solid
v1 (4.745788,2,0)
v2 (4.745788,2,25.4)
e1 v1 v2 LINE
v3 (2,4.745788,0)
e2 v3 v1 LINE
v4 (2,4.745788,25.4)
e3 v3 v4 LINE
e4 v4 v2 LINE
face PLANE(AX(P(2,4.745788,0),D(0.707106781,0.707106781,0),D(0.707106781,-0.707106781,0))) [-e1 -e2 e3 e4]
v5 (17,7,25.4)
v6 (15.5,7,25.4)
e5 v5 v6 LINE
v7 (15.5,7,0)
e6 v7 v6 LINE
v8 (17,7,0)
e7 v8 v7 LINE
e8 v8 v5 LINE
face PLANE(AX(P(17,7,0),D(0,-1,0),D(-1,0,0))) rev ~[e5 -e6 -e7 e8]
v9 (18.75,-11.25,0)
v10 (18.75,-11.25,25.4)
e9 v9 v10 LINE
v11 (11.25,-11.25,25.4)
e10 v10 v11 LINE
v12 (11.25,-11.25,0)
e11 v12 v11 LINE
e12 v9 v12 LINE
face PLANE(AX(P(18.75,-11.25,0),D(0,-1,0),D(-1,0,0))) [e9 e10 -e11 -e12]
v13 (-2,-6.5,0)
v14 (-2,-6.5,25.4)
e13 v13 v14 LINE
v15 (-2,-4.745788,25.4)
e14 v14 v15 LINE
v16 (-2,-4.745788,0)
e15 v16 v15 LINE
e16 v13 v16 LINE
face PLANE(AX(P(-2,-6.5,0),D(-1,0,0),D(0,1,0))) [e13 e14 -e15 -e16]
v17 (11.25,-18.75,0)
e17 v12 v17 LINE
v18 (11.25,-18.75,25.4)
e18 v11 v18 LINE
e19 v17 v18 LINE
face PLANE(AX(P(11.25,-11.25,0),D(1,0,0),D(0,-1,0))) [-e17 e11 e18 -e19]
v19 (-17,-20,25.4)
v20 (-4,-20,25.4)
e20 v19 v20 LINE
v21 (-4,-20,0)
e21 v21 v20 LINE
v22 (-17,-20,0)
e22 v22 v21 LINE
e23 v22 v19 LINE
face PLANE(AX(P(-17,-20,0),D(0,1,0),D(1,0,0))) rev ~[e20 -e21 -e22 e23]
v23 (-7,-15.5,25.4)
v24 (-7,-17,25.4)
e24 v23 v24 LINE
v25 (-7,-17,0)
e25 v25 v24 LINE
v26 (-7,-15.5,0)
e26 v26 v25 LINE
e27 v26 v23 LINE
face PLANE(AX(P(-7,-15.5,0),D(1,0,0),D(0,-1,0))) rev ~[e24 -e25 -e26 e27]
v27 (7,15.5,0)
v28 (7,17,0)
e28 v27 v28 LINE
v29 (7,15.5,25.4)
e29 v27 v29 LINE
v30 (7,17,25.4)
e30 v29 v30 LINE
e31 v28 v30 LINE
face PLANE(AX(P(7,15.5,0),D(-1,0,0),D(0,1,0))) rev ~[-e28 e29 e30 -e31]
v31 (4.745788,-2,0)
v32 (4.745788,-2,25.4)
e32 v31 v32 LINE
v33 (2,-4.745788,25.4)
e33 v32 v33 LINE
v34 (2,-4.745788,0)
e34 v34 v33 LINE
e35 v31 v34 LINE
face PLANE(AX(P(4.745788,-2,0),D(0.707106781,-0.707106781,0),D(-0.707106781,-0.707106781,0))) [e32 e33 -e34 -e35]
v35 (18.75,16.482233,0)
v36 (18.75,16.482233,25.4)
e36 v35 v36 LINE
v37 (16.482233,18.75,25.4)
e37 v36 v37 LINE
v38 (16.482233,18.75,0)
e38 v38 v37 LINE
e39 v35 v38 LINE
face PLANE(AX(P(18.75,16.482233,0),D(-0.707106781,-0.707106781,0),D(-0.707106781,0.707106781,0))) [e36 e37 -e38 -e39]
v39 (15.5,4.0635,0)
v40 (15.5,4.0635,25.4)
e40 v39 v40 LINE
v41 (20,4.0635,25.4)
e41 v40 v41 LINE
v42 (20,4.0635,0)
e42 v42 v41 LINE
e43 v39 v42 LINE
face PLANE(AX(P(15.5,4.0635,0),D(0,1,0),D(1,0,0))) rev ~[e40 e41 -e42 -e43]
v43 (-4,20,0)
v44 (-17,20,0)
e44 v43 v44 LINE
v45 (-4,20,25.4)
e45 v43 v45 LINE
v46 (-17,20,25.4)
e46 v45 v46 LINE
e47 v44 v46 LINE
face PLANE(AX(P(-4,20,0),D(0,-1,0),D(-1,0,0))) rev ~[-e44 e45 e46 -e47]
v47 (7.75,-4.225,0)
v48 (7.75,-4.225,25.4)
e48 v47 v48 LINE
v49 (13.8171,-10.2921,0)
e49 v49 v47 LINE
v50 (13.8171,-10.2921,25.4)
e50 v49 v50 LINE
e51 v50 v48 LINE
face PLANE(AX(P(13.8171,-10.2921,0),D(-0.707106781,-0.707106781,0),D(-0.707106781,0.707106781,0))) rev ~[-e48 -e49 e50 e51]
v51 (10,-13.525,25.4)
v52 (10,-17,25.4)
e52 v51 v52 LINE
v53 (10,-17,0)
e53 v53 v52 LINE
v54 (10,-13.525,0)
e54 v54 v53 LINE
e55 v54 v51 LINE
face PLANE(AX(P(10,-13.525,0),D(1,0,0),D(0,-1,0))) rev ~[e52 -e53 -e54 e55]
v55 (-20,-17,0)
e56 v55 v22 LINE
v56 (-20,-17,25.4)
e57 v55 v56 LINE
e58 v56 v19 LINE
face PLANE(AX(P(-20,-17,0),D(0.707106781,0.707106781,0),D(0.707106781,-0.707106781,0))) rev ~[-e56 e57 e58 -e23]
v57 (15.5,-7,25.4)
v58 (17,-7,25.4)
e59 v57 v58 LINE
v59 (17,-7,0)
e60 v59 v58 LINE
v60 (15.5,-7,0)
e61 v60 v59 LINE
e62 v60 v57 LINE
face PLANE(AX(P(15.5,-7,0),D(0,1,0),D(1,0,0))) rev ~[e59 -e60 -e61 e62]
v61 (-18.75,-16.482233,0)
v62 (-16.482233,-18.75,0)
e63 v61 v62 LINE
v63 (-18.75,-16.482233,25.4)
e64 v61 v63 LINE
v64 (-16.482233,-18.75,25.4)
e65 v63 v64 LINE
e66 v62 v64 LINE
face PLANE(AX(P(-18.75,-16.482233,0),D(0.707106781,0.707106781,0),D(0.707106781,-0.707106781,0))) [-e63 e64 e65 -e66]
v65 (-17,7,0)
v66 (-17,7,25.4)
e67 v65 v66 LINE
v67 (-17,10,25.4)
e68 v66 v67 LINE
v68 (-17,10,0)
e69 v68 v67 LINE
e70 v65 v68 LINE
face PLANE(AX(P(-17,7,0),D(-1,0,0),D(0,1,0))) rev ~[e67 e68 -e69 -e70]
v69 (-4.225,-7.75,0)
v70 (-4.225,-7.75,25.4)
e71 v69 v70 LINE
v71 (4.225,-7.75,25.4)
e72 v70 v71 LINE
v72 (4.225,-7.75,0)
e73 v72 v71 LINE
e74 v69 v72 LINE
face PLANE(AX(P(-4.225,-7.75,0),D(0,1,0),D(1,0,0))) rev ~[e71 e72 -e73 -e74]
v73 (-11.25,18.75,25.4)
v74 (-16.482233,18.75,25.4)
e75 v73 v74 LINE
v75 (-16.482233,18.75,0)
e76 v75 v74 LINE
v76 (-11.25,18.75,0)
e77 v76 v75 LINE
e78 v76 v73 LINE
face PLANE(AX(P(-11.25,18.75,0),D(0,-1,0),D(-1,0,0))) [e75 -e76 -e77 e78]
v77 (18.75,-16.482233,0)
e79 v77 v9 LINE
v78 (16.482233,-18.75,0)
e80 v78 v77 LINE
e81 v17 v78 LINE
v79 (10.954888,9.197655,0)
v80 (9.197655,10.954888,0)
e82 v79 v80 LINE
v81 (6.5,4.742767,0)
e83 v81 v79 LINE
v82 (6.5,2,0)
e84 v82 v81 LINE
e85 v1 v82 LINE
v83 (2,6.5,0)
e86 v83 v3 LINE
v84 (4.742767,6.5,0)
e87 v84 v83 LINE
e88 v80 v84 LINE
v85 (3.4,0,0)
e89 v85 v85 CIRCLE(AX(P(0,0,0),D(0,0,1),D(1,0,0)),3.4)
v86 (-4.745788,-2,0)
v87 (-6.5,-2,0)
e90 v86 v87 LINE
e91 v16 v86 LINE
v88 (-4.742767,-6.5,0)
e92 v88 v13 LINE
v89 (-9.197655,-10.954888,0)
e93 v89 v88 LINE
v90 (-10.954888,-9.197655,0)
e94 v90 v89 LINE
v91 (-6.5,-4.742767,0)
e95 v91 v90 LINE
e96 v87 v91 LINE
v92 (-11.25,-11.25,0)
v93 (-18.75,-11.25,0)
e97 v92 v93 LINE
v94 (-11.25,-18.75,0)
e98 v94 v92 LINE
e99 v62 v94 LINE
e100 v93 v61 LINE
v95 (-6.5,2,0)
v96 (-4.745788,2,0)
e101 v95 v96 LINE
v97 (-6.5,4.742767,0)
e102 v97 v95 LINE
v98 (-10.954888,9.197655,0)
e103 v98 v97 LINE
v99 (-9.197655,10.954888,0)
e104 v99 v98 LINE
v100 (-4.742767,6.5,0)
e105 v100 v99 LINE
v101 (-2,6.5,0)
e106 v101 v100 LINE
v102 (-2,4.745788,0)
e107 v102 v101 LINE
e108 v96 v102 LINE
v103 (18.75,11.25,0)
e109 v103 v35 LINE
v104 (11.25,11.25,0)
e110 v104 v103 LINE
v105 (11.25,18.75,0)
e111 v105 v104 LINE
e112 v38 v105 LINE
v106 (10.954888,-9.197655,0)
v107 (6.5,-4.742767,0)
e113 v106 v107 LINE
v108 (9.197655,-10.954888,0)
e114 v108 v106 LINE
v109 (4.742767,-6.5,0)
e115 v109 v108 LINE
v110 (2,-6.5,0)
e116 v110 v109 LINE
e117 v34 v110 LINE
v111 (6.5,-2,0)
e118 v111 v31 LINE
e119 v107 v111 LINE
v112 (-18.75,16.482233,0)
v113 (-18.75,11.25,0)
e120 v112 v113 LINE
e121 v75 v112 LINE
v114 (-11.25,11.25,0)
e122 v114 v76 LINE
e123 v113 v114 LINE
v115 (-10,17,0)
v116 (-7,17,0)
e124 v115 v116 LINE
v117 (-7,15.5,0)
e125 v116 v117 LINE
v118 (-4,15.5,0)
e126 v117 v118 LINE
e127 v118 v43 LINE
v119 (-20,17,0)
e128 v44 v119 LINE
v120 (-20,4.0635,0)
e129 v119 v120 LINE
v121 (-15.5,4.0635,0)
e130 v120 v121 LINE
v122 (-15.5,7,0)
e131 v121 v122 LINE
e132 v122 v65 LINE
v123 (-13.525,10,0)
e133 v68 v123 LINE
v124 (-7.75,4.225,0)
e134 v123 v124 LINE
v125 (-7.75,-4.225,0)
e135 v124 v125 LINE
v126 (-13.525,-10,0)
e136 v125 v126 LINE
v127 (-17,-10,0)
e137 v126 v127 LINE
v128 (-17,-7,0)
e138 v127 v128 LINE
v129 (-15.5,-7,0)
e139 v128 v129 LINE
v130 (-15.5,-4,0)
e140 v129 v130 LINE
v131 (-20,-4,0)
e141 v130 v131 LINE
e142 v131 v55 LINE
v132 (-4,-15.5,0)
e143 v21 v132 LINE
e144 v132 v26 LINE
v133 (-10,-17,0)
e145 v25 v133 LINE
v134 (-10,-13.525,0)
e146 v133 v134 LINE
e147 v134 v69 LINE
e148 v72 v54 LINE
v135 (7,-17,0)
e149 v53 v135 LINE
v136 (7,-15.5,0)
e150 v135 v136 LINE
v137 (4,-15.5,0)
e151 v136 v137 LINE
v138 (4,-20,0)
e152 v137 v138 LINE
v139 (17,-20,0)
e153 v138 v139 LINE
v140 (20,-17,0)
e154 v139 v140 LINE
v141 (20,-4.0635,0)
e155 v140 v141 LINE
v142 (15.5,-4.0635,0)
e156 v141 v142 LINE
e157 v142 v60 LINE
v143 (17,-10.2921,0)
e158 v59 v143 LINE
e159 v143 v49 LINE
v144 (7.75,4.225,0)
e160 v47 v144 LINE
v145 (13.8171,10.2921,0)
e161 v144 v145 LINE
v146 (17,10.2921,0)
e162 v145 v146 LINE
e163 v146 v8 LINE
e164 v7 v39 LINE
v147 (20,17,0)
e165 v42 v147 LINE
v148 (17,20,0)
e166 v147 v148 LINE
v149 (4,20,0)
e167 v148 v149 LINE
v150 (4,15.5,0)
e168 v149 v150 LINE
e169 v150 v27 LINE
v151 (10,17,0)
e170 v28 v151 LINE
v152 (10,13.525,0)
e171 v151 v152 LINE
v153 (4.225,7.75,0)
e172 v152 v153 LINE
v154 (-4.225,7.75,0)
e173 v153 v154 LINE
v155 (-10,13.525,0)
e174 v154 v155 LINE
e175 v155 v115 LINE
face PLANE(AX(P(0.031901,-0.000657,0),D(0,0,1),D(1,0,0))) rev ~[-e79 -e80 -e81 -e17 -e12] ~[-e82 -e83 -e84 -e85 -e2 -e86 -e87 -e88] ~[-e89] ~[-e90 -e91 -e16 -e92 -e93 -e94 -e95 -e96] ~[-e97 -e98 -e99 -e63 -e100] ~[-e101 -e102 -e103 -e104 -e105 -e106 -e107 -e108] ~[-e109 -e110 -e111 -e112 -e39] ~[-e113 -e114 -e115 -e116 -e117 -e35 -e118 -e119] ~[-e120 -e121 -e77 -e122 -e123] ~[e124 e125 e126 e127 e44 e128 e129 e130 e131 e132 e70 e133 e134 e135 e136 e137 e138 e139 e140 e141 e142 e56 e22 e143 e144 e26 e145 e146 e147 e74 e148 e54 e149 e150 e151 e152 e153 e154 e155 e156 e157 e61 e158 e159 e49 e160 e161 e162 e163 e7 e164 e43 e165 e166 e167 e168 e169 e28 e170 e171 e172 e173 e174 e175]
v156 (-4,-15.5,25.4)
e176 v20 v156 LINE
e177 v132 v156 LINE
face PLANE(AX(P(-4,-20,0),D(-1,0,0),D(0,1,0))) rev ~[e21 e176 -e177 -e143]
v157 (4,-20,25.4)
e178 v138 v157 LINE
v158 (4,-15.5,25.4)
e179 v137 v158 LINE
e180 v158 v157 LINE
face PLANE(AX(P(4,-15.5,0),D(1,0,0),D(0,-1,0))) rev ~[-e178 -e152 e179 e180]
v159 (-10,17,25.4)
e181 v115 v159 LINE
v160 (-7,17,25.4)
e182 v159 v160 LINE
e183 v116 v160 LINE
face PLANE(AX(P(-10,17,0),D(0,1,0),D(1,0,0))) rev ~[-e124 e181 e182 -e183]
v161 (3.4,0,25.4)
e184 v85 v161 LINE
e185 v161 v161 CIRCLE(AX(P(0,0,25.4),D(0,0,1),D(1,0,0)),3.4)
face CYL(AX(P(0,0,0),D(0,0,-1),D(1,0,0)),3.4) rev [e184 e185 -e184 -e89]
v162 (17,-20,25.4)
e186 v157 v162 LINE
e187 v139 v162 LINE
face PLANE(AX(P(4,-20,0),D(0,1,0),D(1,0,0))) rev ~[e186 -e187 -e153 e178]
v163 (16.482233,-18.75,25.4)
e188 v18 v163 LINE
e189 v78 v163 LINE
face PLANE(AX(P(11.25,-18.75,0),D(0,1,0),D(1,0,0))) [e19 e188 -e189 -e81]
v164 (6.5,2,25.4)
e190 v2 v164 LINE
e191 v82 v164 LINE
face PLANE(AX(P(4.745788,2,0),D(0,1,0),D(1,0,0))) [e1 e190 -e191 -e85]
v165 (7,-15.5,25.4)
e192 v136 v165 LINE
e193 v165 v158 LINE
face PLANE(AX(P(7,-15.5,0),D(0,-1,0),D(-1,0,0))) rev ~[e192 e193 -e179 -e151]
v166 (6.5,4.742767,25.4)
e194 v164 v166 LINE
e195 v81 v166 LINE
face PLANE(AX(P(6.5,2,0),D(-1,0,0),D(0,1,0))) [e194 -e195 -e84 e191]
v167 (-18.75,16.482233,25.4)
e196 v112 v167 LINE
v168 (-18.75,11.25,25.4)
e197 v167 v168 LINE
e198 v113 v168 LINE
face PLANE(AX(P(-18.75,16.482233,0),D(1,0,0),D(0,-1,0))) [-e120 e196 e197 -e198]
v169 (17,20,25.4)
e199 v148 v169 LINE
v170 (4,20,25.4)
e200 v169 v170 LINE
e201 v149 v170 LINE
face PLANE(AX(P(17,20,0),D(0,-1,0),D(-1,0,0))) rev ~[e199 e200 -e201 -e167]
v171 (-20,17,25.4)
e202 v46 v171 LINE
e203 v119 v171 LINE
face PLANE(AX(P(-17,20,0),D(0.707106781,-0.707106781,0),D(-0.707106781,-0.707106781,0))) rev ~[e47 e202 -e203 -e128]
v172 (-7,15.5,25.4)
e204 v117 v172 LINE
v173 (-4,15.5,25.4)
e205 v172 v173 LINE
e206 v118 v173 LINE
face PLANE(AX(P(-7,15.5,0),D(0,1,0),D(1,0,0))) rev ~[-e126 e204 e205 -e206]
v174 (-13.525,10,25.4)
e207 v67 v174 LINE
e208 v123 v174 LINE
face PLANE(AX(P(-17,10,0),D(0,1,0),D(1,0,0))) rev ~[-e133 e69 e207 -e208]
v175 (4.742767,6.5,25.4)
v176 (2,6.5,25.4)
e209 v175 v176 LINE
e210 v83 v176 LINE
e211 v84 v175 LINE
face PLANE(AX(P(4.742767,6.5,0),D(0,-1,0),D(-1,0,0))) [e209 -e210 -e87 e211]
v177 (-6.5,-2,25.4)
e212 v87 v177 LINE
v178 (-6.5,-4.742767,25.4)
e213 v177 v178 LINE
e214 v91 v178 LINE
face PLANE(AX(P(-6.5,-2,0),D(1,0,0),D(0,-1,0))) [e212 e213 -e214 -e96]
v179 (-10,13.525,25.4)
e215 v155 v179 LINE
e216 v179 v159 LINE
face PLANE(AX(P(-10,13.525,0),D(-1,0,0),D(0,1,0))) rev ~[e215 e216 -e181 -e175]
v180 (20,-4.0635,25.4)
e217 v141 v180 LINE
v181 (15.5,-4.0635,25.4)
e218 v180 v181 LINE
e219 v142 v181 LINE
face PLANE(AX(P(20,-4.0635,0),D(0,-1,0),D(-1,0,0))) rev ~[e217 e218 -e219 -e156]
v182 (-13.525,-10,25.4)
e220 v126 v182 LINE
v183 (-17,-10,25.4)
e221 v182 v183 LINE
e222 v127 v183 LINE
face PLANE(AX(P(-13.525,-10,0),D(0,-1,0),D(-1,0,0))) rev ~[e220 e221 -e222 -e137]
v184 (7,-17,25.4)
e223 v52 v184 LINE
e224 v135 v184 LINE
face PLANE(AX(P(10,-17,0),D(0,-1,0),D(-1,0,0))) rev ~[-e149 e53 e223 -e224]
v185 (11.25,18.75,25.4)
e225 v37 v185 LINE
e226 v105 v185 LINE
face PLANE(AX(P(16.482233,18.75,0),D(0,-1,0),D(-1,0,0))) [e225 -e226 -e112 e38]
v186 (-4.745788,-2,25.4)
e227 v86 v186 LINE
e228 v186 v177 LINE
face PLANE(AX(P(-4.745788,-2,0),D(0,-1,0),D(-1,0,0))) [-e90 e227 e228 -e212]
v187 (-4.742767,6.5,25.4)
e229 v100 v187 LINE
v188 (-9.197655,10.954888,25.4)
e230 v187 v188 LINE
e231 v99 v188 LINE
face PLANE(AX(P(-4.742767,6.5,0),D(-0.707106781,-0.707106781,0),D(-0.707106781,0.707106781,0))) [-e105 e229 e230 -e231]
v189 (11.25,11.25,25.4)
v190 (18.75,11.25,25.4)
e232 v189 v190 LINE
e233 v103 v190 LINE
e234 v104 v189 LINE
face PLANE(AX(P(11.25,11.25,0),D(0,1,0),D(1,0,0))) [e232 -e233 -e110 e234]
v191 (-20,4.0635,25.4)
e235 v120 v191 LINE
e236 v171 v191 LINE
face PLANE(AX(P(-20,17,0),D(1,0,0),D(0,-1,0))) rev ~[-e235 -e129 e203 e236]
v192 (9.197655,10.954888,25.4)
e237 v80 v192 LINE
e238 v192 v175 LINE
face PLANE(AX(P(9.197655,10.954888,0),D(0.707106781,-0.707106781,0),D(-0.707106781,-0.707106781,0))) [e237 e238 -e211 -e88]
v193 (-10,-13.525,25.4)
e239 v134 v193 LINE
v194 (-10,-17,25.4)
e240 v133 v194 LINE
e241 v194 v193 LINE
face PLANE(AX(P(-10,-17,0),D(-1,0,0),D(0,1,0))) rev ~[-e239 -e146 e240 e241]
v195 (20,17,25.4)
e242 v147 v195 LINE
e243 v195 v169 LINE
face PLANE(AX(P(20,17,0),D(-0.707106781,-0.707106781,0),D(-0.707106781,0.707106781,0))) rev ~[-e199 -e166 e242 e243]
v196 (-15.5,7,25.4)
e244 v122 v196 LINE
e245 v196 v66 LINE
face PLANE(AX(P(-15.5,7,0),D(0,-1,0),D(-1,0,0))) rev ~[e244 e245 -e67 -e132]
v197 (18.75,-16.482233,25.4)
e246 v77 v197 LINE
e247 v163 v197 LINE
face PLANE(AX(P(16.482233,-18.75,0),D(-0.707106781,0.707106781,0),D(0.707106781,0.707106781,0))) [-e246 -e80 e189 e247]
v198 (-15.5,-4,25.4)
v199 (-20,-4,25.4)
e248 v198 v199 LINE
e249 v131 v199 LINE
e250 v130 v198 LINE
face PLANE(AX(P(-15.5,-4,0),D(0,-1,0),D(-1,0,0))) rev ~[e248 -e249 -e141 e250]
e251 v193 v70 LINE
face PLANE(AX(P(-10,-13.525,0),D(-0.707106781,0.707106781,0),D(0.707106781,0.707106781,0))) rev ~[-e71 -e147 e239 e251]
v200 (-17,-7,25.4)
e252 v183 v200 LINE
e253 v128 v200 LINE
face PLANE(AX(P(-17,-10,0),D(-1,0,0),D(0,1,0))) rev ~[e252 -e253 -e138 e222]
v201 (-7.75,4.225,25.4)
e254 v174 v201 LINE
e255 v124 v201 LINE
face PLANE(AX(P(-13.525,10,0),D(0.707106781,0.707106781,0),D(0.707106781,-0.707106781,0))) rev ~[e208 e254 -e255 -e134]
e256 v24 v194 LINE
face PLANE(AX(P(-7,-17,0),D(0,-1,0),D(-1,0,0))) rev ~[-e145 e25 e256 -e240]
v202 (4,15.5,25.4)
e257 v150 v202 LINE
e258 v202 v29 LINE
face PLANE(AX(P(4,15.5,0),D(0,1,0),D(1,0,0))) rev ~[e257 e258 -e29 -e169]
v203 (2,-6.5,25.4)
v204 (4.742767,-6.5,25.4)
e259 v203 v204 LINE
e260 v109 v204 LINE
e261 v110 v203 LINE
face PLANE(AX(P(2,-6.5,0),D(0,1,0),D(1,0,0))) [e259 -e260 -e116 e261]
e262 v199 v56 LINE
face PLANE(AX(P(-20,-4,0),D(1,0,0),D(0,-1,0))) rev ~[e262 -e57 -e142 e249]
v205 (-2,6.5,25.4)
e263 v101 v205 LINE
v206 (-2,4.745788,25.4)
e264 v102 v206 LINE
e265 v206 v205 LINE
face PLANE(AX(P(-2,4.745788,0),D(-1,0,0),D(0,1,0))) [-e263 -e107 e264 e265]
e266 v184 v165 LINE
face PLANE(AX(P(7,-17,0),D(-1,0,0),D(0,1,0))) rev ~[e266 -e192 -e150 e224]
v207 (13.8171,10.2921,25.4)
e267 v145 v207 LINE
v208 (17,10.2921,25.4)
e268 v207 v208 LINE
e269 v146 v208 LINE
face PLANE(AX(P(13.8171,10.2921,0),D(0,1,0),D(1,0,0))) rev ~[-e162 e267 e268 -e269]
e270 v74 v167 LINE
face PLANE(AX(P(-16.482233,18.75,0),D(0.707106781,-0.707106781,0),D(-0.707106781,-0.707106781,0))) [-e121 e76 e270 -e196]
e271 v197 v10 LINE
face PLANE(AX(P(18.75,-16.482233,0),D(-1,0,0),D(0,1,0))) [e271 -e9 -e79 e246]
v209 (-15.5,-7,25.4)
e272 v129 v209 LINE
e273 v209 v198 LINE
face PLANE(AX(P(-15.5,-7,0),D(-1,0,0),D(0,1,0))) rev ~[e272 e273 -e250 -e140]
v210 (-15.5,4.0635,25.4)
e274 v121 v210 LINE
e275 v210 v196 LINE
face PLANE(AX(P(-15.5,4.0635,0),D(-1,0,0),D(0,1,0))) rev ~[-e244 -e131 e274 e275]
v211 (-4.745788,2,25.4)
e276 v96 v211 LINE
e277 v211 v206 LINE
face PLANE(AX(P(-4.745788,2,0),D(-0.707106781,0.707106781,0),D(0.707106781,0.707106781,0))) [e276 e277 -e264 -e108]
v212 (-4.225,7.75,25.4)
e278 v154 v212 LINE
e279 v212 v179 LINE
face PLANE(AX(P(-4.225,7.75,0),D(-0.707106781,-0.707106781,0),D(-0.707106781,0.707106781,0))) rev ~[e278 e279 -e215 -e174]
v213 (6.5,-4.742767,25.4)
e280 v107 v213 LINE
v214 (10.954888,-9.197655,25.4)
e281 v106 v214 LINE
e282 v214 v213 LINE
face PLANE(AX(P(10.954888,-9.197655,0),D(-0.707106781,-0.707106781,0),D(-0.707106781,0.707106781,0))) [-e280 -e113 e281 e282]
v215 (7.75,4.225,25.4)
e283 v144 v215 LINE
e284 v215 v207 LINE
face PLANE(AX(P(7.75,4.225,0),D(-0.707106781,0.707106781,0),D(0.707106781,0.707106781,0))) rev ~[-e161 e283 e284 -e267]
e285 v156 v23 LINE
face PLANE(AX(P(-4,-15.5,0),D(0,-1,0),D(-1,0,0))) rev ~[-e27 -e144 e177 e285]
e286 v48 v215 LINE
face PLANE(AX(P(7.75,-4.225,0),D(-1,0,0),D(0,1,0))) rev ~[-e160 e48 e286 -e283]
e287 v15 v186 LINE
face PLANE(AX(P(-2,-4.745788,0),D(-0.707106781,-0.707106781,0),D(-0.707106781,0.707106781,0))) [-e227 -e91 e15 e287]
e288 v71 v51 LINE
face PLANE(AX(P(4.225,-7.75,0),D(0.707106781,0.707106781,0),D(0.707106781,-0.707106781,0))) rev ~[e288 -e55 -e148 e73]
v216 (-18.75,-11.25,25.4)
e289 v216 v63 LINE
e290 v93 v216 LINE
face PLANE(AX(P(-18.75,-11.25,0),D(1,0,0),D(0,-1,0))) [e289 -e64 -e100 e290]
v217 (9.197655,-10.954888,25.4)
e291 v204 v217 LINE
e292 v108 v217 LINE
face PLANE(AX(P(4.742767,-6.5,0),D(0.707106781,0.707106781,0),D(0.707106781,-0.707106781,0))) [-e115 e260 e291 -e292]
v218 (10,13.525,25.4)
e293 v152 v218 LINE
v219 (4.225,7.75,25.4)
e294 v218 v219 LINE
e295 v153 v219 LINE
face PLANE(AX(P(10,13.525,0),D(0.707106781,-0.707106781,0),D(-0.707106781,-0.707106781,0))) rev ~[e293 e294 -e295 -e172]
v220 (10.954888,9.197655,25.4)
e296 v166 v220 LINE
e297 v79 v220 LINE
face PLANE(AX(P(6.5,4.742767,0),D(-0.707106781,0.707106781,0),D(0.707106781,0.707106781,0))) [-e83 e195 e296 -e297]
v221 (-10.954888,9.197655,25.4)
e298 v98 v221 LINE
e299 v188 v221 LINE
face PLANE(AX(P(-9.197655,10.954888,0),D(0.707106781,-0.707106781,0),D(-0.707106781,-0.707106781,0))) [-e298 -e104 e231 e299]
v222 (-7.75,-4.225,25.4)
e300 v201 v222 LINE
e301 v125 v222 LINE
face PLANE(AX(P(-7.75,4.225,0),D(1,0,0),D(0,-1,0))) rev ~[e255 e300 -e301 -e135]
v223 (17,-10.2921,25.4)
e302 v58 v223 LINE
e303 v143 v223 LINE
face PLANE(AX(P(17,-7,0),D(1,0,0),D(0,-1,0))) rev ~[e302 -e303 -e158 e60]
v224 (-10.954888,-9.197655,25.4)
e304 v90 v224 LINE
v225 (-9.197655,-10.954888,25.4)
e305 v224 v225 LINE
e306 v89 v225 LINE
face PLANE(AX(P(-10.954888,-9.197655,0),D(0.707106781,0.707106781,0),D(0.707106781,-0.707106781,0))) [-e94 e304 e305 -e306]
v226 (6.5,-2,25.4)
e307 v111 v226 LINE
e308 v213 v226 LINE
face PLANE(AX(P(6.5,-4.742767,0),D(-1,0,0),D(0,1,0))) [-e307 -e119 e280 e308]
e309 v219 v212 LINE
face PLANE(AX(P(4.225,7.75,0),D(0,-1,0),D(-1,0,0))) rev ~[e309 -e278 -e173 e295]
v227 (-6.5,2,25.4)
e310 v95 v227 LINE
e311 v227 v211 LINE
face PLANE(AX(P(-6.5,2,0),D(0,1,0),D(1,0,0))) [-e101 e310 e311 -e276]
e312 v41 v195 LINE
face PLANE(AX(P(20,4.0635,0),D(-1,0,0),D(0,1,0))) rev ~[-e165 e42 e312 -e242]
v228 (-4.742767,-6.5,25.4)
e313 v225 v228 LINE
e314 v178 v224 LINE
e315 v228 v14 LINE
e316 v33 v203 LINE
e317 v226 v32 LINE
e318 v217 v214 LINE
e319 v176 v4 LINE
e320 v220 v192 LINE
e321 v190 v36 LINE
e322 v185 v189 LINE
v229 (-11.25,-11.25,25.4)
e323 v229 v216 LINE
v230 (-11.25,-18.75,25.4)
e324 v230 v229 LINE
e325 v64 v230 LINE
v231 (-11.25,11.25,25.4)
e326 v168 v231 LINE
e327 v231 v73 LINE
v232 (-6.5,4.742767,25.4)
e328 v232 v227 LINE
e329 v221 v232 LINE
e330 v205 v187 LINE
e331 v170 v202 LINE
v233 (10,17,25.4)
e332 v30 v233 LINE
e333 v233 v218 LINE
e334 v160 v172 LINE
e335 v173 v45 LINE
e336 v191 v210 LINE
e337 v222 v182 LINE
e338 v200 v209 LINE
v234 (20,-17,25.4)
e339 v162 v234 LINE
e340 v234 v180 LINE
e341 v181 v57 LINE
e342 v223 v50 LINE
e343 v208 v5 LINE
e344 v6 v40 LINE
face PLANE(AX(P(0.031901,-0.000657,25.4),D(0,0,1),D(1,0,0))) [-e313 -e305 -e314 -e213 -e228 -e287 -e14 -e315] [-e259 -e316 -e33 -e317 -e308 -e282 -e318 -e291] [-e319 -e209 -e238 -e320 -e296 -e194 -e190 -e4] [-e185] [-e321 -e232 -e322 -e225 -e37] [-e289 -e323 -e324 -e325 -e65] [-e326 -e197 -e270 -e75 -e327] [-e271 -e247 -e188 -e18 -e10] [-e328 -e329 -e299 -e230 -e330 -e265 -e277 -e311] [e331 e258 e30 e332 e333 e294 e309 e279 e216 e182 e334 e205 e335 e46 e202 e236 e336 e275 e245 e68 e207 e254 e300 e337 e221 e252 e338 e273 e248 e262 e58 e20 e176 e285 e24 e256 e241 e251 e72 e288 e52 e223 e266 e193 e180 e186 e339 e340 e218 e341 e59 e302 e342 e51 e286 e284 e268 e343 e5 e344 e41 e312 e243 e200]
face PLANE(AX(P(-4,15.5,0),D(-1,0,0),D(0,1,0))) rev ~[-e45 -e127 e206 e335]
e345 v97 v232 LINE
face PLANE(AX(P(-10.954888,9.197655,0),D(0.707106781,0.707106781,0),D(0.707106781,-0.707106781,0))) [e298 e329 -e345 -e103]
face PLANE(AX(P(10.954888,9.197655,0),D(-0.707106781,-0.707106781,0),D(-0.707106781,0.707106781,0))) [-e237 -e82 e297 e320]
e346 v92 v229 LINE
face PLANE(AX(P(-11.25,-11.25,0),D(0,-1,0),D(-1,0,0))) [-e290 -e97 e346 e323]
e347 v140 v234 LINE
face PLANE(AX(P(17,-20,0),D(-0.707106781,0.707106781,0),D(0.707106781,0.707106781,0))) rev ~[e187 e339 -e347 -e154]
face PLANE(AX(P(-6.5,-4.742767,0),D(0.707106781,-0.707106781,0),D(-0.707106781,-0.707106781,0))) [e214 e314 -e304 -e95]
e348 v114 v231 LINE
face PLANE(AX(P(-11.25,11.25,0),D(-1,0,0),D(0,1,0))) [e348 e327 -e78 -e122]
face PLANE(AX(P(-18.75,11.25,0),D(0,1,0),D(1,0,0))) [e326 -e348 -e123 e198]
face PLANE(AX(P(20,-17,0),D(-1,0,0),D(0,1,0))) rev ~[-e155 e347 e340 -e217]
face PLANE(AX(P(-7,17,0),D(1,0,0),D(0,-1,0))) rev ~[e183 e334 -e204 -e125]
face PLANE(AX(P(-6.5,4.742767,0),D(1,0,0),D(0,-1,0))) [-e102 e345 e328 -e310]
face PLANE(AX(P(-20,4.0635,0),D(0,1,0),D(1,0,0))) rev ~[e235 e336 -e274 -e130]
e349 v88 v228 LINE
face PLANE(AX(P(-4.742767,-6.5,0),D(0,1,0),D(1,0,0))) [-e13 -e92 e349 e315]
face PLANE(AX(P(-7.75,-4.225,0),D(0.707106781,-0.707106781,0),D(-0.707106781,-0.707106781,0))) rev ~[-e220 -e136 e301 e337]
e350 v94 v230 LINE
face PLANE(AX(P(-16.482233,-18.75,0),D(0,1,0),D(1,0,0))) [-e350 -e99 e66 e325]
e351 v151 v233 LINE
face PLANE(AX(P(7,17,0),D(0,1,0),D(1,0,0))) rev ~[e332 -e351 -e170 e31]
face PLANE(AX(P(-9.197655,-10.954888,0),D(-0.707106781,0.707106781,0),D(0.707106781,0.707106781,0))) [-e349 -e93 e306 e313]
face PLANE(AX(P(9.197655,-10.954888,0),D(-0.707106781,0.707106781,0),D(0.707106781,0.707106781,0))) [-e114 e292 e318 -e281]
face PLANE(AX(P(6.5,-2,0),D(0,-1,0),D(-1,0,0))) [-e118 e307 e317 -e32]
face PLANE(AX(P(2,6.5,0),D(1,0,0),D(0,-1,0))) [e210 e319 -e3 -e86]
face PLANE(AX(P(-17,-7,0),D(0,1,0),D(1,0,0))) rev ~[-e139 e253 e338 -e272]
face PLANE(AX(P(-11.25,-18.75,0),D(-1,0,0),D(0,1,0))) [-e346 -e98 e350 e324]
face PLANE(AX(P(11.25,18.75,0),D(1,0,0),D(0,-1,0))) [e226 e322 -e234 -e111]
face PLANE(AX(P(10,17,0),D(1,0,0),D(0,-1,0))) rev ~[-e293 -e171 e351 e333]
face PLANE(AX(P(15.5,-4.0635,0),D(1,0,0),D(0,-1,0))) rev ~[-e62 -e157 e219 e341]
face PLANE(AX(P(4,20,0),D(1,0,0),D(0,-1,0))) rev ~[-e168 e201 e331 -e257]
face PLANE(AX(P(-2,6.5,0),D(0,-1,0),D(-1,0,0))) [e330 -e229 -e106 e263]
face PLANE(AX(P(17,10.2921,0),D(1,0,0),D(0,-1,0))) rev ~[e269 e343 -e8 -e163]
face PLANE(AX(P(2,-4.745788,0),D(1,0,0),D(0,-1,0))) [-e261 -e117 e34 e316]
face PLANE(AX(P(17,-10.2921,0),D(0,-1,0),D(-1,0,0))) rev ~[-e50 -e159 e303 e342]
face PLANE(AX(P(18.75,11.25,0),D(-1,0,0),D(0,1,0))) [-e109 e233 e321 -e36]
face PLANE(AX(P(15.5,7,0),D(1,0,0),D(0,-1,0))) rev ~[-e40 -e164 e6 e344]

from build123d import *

# Parameters (mm, degrees)
SKETCH1_R      = 3.4
EXTRUDE1_DEPTH = 25.4


with BuildPart() as part:
    # Sketch1 → Extrude1 (new body)
    with BuildSketch(Plane.XY):
        Polygon((4.225, 7.75), (-4.225, 7.75), (-10, 13.525), (-10, 17), (-7, 17), (-7, 15.5), (-4, 15.5), (-4, 20), (-17, 20), (-20, 17), (-20, 4.0635), (-15.5, 4.0635), (-15.5, 7), (-17, 7), (-17, 10), (-13.525, 10), (-7.75, 4.225), (-7.75, -4.225), (-13.525, -10), (-17, -10), (-17, -7), (-15.5, -7), (-15.5, -4), (-20, -4), (-20, -17), (-17, -20), (-4, -20), (-4, -15.5), (-7, -15.5), (-7, -17), (-10, -17), (-10, -13.525), (-4.225, -7.75), (4.225, -7.75), (10, -13.525), (10, -17), (7, -17), (7, -15.5), (4, -15.5), (4, -20), (17, -20), (20, -17), (20, -4.0635), (15.5, -4.0635), (15.5, -7), (17, -7), (17, -10.2921), (13.8171, -10.2921), (7.75, -4.225), (7.75, 4.225), (13.8171, 10.2921), (17, 10.2921), (17, 7), (15.5, 7), (15.5, 4.0635), (20, 4.0635), (20, 17), (17, 20), (4, 20), (4, 15.5), (7, 15.5), (7, 17), (10, 17), (10, 13.525), align=None)
        Circle(SKETCH1_R, mode=Mode.SUBTRACT)
        Polygon((-18.75, -16.482233), (-16.482233, -18.75), (-11.25, -18.75), (-11.25, -11.25), (-18.75, -11.25), align=None, mode=Mode.SUBTRACT)
        Polygon((18.75, 16.482233), (16.482233, 18.75), (11.25, 18.75), (11.25, 11.25), (18.75, 11.25), align=None, mode=Mode.SUBTRACT)
        Polygon((2, -6.5), (4.742767, -6.5), (9.197655, -10.954888), (10.954888, -9.197655), (6.5, -4.742767), (6.5, -2), (4.745788, -2), (2, -4.745788), align=None, mode=Mode.SUBTRACT)
        Polygon((6.5, 2), (6.5, 4.742767), (10.954888, 9.197655), (9.197655, 10.954888), (4.742767, 6.5), (2, 6.5), (2, 4.745788), (4.745788, 2), align=None, mode=Mode.SUBTRACT)
        Polygon((-2, 6.5), (-4.742767, 6.5), (-9.197655, 10.954888), (-10.954888, 9.197655), (-6.5, 4.742767), (-6.5, 2), (-4.745788, 2), (-2, 4.745788), align=None, mode=Mode.SUBTRACT)
        Polygon((-6.5, -2), (-6.5, -4.742767), (-10.954888, -9.197655), (-9.197655, -10.954888), (-4.742767, -6.5), (-2, -6.5), (-2, -4.745788), (-4.745788, -2), align=None, mode=Mode.SUBTRACT)
        Polygon((-16.482233, 18.75), (-18.75, 16.482233), (-18.75, 11.25), (-11.25, 11.25), (-11.25, 18.75), align=None, mode=Mode.SUBTRACT)
        Polygon((16.482233, -18.75), (18.75, -16.482233), (18.75, -11.25), (11.25, -11.25), (11.25, -18.75), align=None, mode=Mode.SUBTRACT)
    extrude(amount=EXTRUDE1_DEPTH)


solid = part.part
